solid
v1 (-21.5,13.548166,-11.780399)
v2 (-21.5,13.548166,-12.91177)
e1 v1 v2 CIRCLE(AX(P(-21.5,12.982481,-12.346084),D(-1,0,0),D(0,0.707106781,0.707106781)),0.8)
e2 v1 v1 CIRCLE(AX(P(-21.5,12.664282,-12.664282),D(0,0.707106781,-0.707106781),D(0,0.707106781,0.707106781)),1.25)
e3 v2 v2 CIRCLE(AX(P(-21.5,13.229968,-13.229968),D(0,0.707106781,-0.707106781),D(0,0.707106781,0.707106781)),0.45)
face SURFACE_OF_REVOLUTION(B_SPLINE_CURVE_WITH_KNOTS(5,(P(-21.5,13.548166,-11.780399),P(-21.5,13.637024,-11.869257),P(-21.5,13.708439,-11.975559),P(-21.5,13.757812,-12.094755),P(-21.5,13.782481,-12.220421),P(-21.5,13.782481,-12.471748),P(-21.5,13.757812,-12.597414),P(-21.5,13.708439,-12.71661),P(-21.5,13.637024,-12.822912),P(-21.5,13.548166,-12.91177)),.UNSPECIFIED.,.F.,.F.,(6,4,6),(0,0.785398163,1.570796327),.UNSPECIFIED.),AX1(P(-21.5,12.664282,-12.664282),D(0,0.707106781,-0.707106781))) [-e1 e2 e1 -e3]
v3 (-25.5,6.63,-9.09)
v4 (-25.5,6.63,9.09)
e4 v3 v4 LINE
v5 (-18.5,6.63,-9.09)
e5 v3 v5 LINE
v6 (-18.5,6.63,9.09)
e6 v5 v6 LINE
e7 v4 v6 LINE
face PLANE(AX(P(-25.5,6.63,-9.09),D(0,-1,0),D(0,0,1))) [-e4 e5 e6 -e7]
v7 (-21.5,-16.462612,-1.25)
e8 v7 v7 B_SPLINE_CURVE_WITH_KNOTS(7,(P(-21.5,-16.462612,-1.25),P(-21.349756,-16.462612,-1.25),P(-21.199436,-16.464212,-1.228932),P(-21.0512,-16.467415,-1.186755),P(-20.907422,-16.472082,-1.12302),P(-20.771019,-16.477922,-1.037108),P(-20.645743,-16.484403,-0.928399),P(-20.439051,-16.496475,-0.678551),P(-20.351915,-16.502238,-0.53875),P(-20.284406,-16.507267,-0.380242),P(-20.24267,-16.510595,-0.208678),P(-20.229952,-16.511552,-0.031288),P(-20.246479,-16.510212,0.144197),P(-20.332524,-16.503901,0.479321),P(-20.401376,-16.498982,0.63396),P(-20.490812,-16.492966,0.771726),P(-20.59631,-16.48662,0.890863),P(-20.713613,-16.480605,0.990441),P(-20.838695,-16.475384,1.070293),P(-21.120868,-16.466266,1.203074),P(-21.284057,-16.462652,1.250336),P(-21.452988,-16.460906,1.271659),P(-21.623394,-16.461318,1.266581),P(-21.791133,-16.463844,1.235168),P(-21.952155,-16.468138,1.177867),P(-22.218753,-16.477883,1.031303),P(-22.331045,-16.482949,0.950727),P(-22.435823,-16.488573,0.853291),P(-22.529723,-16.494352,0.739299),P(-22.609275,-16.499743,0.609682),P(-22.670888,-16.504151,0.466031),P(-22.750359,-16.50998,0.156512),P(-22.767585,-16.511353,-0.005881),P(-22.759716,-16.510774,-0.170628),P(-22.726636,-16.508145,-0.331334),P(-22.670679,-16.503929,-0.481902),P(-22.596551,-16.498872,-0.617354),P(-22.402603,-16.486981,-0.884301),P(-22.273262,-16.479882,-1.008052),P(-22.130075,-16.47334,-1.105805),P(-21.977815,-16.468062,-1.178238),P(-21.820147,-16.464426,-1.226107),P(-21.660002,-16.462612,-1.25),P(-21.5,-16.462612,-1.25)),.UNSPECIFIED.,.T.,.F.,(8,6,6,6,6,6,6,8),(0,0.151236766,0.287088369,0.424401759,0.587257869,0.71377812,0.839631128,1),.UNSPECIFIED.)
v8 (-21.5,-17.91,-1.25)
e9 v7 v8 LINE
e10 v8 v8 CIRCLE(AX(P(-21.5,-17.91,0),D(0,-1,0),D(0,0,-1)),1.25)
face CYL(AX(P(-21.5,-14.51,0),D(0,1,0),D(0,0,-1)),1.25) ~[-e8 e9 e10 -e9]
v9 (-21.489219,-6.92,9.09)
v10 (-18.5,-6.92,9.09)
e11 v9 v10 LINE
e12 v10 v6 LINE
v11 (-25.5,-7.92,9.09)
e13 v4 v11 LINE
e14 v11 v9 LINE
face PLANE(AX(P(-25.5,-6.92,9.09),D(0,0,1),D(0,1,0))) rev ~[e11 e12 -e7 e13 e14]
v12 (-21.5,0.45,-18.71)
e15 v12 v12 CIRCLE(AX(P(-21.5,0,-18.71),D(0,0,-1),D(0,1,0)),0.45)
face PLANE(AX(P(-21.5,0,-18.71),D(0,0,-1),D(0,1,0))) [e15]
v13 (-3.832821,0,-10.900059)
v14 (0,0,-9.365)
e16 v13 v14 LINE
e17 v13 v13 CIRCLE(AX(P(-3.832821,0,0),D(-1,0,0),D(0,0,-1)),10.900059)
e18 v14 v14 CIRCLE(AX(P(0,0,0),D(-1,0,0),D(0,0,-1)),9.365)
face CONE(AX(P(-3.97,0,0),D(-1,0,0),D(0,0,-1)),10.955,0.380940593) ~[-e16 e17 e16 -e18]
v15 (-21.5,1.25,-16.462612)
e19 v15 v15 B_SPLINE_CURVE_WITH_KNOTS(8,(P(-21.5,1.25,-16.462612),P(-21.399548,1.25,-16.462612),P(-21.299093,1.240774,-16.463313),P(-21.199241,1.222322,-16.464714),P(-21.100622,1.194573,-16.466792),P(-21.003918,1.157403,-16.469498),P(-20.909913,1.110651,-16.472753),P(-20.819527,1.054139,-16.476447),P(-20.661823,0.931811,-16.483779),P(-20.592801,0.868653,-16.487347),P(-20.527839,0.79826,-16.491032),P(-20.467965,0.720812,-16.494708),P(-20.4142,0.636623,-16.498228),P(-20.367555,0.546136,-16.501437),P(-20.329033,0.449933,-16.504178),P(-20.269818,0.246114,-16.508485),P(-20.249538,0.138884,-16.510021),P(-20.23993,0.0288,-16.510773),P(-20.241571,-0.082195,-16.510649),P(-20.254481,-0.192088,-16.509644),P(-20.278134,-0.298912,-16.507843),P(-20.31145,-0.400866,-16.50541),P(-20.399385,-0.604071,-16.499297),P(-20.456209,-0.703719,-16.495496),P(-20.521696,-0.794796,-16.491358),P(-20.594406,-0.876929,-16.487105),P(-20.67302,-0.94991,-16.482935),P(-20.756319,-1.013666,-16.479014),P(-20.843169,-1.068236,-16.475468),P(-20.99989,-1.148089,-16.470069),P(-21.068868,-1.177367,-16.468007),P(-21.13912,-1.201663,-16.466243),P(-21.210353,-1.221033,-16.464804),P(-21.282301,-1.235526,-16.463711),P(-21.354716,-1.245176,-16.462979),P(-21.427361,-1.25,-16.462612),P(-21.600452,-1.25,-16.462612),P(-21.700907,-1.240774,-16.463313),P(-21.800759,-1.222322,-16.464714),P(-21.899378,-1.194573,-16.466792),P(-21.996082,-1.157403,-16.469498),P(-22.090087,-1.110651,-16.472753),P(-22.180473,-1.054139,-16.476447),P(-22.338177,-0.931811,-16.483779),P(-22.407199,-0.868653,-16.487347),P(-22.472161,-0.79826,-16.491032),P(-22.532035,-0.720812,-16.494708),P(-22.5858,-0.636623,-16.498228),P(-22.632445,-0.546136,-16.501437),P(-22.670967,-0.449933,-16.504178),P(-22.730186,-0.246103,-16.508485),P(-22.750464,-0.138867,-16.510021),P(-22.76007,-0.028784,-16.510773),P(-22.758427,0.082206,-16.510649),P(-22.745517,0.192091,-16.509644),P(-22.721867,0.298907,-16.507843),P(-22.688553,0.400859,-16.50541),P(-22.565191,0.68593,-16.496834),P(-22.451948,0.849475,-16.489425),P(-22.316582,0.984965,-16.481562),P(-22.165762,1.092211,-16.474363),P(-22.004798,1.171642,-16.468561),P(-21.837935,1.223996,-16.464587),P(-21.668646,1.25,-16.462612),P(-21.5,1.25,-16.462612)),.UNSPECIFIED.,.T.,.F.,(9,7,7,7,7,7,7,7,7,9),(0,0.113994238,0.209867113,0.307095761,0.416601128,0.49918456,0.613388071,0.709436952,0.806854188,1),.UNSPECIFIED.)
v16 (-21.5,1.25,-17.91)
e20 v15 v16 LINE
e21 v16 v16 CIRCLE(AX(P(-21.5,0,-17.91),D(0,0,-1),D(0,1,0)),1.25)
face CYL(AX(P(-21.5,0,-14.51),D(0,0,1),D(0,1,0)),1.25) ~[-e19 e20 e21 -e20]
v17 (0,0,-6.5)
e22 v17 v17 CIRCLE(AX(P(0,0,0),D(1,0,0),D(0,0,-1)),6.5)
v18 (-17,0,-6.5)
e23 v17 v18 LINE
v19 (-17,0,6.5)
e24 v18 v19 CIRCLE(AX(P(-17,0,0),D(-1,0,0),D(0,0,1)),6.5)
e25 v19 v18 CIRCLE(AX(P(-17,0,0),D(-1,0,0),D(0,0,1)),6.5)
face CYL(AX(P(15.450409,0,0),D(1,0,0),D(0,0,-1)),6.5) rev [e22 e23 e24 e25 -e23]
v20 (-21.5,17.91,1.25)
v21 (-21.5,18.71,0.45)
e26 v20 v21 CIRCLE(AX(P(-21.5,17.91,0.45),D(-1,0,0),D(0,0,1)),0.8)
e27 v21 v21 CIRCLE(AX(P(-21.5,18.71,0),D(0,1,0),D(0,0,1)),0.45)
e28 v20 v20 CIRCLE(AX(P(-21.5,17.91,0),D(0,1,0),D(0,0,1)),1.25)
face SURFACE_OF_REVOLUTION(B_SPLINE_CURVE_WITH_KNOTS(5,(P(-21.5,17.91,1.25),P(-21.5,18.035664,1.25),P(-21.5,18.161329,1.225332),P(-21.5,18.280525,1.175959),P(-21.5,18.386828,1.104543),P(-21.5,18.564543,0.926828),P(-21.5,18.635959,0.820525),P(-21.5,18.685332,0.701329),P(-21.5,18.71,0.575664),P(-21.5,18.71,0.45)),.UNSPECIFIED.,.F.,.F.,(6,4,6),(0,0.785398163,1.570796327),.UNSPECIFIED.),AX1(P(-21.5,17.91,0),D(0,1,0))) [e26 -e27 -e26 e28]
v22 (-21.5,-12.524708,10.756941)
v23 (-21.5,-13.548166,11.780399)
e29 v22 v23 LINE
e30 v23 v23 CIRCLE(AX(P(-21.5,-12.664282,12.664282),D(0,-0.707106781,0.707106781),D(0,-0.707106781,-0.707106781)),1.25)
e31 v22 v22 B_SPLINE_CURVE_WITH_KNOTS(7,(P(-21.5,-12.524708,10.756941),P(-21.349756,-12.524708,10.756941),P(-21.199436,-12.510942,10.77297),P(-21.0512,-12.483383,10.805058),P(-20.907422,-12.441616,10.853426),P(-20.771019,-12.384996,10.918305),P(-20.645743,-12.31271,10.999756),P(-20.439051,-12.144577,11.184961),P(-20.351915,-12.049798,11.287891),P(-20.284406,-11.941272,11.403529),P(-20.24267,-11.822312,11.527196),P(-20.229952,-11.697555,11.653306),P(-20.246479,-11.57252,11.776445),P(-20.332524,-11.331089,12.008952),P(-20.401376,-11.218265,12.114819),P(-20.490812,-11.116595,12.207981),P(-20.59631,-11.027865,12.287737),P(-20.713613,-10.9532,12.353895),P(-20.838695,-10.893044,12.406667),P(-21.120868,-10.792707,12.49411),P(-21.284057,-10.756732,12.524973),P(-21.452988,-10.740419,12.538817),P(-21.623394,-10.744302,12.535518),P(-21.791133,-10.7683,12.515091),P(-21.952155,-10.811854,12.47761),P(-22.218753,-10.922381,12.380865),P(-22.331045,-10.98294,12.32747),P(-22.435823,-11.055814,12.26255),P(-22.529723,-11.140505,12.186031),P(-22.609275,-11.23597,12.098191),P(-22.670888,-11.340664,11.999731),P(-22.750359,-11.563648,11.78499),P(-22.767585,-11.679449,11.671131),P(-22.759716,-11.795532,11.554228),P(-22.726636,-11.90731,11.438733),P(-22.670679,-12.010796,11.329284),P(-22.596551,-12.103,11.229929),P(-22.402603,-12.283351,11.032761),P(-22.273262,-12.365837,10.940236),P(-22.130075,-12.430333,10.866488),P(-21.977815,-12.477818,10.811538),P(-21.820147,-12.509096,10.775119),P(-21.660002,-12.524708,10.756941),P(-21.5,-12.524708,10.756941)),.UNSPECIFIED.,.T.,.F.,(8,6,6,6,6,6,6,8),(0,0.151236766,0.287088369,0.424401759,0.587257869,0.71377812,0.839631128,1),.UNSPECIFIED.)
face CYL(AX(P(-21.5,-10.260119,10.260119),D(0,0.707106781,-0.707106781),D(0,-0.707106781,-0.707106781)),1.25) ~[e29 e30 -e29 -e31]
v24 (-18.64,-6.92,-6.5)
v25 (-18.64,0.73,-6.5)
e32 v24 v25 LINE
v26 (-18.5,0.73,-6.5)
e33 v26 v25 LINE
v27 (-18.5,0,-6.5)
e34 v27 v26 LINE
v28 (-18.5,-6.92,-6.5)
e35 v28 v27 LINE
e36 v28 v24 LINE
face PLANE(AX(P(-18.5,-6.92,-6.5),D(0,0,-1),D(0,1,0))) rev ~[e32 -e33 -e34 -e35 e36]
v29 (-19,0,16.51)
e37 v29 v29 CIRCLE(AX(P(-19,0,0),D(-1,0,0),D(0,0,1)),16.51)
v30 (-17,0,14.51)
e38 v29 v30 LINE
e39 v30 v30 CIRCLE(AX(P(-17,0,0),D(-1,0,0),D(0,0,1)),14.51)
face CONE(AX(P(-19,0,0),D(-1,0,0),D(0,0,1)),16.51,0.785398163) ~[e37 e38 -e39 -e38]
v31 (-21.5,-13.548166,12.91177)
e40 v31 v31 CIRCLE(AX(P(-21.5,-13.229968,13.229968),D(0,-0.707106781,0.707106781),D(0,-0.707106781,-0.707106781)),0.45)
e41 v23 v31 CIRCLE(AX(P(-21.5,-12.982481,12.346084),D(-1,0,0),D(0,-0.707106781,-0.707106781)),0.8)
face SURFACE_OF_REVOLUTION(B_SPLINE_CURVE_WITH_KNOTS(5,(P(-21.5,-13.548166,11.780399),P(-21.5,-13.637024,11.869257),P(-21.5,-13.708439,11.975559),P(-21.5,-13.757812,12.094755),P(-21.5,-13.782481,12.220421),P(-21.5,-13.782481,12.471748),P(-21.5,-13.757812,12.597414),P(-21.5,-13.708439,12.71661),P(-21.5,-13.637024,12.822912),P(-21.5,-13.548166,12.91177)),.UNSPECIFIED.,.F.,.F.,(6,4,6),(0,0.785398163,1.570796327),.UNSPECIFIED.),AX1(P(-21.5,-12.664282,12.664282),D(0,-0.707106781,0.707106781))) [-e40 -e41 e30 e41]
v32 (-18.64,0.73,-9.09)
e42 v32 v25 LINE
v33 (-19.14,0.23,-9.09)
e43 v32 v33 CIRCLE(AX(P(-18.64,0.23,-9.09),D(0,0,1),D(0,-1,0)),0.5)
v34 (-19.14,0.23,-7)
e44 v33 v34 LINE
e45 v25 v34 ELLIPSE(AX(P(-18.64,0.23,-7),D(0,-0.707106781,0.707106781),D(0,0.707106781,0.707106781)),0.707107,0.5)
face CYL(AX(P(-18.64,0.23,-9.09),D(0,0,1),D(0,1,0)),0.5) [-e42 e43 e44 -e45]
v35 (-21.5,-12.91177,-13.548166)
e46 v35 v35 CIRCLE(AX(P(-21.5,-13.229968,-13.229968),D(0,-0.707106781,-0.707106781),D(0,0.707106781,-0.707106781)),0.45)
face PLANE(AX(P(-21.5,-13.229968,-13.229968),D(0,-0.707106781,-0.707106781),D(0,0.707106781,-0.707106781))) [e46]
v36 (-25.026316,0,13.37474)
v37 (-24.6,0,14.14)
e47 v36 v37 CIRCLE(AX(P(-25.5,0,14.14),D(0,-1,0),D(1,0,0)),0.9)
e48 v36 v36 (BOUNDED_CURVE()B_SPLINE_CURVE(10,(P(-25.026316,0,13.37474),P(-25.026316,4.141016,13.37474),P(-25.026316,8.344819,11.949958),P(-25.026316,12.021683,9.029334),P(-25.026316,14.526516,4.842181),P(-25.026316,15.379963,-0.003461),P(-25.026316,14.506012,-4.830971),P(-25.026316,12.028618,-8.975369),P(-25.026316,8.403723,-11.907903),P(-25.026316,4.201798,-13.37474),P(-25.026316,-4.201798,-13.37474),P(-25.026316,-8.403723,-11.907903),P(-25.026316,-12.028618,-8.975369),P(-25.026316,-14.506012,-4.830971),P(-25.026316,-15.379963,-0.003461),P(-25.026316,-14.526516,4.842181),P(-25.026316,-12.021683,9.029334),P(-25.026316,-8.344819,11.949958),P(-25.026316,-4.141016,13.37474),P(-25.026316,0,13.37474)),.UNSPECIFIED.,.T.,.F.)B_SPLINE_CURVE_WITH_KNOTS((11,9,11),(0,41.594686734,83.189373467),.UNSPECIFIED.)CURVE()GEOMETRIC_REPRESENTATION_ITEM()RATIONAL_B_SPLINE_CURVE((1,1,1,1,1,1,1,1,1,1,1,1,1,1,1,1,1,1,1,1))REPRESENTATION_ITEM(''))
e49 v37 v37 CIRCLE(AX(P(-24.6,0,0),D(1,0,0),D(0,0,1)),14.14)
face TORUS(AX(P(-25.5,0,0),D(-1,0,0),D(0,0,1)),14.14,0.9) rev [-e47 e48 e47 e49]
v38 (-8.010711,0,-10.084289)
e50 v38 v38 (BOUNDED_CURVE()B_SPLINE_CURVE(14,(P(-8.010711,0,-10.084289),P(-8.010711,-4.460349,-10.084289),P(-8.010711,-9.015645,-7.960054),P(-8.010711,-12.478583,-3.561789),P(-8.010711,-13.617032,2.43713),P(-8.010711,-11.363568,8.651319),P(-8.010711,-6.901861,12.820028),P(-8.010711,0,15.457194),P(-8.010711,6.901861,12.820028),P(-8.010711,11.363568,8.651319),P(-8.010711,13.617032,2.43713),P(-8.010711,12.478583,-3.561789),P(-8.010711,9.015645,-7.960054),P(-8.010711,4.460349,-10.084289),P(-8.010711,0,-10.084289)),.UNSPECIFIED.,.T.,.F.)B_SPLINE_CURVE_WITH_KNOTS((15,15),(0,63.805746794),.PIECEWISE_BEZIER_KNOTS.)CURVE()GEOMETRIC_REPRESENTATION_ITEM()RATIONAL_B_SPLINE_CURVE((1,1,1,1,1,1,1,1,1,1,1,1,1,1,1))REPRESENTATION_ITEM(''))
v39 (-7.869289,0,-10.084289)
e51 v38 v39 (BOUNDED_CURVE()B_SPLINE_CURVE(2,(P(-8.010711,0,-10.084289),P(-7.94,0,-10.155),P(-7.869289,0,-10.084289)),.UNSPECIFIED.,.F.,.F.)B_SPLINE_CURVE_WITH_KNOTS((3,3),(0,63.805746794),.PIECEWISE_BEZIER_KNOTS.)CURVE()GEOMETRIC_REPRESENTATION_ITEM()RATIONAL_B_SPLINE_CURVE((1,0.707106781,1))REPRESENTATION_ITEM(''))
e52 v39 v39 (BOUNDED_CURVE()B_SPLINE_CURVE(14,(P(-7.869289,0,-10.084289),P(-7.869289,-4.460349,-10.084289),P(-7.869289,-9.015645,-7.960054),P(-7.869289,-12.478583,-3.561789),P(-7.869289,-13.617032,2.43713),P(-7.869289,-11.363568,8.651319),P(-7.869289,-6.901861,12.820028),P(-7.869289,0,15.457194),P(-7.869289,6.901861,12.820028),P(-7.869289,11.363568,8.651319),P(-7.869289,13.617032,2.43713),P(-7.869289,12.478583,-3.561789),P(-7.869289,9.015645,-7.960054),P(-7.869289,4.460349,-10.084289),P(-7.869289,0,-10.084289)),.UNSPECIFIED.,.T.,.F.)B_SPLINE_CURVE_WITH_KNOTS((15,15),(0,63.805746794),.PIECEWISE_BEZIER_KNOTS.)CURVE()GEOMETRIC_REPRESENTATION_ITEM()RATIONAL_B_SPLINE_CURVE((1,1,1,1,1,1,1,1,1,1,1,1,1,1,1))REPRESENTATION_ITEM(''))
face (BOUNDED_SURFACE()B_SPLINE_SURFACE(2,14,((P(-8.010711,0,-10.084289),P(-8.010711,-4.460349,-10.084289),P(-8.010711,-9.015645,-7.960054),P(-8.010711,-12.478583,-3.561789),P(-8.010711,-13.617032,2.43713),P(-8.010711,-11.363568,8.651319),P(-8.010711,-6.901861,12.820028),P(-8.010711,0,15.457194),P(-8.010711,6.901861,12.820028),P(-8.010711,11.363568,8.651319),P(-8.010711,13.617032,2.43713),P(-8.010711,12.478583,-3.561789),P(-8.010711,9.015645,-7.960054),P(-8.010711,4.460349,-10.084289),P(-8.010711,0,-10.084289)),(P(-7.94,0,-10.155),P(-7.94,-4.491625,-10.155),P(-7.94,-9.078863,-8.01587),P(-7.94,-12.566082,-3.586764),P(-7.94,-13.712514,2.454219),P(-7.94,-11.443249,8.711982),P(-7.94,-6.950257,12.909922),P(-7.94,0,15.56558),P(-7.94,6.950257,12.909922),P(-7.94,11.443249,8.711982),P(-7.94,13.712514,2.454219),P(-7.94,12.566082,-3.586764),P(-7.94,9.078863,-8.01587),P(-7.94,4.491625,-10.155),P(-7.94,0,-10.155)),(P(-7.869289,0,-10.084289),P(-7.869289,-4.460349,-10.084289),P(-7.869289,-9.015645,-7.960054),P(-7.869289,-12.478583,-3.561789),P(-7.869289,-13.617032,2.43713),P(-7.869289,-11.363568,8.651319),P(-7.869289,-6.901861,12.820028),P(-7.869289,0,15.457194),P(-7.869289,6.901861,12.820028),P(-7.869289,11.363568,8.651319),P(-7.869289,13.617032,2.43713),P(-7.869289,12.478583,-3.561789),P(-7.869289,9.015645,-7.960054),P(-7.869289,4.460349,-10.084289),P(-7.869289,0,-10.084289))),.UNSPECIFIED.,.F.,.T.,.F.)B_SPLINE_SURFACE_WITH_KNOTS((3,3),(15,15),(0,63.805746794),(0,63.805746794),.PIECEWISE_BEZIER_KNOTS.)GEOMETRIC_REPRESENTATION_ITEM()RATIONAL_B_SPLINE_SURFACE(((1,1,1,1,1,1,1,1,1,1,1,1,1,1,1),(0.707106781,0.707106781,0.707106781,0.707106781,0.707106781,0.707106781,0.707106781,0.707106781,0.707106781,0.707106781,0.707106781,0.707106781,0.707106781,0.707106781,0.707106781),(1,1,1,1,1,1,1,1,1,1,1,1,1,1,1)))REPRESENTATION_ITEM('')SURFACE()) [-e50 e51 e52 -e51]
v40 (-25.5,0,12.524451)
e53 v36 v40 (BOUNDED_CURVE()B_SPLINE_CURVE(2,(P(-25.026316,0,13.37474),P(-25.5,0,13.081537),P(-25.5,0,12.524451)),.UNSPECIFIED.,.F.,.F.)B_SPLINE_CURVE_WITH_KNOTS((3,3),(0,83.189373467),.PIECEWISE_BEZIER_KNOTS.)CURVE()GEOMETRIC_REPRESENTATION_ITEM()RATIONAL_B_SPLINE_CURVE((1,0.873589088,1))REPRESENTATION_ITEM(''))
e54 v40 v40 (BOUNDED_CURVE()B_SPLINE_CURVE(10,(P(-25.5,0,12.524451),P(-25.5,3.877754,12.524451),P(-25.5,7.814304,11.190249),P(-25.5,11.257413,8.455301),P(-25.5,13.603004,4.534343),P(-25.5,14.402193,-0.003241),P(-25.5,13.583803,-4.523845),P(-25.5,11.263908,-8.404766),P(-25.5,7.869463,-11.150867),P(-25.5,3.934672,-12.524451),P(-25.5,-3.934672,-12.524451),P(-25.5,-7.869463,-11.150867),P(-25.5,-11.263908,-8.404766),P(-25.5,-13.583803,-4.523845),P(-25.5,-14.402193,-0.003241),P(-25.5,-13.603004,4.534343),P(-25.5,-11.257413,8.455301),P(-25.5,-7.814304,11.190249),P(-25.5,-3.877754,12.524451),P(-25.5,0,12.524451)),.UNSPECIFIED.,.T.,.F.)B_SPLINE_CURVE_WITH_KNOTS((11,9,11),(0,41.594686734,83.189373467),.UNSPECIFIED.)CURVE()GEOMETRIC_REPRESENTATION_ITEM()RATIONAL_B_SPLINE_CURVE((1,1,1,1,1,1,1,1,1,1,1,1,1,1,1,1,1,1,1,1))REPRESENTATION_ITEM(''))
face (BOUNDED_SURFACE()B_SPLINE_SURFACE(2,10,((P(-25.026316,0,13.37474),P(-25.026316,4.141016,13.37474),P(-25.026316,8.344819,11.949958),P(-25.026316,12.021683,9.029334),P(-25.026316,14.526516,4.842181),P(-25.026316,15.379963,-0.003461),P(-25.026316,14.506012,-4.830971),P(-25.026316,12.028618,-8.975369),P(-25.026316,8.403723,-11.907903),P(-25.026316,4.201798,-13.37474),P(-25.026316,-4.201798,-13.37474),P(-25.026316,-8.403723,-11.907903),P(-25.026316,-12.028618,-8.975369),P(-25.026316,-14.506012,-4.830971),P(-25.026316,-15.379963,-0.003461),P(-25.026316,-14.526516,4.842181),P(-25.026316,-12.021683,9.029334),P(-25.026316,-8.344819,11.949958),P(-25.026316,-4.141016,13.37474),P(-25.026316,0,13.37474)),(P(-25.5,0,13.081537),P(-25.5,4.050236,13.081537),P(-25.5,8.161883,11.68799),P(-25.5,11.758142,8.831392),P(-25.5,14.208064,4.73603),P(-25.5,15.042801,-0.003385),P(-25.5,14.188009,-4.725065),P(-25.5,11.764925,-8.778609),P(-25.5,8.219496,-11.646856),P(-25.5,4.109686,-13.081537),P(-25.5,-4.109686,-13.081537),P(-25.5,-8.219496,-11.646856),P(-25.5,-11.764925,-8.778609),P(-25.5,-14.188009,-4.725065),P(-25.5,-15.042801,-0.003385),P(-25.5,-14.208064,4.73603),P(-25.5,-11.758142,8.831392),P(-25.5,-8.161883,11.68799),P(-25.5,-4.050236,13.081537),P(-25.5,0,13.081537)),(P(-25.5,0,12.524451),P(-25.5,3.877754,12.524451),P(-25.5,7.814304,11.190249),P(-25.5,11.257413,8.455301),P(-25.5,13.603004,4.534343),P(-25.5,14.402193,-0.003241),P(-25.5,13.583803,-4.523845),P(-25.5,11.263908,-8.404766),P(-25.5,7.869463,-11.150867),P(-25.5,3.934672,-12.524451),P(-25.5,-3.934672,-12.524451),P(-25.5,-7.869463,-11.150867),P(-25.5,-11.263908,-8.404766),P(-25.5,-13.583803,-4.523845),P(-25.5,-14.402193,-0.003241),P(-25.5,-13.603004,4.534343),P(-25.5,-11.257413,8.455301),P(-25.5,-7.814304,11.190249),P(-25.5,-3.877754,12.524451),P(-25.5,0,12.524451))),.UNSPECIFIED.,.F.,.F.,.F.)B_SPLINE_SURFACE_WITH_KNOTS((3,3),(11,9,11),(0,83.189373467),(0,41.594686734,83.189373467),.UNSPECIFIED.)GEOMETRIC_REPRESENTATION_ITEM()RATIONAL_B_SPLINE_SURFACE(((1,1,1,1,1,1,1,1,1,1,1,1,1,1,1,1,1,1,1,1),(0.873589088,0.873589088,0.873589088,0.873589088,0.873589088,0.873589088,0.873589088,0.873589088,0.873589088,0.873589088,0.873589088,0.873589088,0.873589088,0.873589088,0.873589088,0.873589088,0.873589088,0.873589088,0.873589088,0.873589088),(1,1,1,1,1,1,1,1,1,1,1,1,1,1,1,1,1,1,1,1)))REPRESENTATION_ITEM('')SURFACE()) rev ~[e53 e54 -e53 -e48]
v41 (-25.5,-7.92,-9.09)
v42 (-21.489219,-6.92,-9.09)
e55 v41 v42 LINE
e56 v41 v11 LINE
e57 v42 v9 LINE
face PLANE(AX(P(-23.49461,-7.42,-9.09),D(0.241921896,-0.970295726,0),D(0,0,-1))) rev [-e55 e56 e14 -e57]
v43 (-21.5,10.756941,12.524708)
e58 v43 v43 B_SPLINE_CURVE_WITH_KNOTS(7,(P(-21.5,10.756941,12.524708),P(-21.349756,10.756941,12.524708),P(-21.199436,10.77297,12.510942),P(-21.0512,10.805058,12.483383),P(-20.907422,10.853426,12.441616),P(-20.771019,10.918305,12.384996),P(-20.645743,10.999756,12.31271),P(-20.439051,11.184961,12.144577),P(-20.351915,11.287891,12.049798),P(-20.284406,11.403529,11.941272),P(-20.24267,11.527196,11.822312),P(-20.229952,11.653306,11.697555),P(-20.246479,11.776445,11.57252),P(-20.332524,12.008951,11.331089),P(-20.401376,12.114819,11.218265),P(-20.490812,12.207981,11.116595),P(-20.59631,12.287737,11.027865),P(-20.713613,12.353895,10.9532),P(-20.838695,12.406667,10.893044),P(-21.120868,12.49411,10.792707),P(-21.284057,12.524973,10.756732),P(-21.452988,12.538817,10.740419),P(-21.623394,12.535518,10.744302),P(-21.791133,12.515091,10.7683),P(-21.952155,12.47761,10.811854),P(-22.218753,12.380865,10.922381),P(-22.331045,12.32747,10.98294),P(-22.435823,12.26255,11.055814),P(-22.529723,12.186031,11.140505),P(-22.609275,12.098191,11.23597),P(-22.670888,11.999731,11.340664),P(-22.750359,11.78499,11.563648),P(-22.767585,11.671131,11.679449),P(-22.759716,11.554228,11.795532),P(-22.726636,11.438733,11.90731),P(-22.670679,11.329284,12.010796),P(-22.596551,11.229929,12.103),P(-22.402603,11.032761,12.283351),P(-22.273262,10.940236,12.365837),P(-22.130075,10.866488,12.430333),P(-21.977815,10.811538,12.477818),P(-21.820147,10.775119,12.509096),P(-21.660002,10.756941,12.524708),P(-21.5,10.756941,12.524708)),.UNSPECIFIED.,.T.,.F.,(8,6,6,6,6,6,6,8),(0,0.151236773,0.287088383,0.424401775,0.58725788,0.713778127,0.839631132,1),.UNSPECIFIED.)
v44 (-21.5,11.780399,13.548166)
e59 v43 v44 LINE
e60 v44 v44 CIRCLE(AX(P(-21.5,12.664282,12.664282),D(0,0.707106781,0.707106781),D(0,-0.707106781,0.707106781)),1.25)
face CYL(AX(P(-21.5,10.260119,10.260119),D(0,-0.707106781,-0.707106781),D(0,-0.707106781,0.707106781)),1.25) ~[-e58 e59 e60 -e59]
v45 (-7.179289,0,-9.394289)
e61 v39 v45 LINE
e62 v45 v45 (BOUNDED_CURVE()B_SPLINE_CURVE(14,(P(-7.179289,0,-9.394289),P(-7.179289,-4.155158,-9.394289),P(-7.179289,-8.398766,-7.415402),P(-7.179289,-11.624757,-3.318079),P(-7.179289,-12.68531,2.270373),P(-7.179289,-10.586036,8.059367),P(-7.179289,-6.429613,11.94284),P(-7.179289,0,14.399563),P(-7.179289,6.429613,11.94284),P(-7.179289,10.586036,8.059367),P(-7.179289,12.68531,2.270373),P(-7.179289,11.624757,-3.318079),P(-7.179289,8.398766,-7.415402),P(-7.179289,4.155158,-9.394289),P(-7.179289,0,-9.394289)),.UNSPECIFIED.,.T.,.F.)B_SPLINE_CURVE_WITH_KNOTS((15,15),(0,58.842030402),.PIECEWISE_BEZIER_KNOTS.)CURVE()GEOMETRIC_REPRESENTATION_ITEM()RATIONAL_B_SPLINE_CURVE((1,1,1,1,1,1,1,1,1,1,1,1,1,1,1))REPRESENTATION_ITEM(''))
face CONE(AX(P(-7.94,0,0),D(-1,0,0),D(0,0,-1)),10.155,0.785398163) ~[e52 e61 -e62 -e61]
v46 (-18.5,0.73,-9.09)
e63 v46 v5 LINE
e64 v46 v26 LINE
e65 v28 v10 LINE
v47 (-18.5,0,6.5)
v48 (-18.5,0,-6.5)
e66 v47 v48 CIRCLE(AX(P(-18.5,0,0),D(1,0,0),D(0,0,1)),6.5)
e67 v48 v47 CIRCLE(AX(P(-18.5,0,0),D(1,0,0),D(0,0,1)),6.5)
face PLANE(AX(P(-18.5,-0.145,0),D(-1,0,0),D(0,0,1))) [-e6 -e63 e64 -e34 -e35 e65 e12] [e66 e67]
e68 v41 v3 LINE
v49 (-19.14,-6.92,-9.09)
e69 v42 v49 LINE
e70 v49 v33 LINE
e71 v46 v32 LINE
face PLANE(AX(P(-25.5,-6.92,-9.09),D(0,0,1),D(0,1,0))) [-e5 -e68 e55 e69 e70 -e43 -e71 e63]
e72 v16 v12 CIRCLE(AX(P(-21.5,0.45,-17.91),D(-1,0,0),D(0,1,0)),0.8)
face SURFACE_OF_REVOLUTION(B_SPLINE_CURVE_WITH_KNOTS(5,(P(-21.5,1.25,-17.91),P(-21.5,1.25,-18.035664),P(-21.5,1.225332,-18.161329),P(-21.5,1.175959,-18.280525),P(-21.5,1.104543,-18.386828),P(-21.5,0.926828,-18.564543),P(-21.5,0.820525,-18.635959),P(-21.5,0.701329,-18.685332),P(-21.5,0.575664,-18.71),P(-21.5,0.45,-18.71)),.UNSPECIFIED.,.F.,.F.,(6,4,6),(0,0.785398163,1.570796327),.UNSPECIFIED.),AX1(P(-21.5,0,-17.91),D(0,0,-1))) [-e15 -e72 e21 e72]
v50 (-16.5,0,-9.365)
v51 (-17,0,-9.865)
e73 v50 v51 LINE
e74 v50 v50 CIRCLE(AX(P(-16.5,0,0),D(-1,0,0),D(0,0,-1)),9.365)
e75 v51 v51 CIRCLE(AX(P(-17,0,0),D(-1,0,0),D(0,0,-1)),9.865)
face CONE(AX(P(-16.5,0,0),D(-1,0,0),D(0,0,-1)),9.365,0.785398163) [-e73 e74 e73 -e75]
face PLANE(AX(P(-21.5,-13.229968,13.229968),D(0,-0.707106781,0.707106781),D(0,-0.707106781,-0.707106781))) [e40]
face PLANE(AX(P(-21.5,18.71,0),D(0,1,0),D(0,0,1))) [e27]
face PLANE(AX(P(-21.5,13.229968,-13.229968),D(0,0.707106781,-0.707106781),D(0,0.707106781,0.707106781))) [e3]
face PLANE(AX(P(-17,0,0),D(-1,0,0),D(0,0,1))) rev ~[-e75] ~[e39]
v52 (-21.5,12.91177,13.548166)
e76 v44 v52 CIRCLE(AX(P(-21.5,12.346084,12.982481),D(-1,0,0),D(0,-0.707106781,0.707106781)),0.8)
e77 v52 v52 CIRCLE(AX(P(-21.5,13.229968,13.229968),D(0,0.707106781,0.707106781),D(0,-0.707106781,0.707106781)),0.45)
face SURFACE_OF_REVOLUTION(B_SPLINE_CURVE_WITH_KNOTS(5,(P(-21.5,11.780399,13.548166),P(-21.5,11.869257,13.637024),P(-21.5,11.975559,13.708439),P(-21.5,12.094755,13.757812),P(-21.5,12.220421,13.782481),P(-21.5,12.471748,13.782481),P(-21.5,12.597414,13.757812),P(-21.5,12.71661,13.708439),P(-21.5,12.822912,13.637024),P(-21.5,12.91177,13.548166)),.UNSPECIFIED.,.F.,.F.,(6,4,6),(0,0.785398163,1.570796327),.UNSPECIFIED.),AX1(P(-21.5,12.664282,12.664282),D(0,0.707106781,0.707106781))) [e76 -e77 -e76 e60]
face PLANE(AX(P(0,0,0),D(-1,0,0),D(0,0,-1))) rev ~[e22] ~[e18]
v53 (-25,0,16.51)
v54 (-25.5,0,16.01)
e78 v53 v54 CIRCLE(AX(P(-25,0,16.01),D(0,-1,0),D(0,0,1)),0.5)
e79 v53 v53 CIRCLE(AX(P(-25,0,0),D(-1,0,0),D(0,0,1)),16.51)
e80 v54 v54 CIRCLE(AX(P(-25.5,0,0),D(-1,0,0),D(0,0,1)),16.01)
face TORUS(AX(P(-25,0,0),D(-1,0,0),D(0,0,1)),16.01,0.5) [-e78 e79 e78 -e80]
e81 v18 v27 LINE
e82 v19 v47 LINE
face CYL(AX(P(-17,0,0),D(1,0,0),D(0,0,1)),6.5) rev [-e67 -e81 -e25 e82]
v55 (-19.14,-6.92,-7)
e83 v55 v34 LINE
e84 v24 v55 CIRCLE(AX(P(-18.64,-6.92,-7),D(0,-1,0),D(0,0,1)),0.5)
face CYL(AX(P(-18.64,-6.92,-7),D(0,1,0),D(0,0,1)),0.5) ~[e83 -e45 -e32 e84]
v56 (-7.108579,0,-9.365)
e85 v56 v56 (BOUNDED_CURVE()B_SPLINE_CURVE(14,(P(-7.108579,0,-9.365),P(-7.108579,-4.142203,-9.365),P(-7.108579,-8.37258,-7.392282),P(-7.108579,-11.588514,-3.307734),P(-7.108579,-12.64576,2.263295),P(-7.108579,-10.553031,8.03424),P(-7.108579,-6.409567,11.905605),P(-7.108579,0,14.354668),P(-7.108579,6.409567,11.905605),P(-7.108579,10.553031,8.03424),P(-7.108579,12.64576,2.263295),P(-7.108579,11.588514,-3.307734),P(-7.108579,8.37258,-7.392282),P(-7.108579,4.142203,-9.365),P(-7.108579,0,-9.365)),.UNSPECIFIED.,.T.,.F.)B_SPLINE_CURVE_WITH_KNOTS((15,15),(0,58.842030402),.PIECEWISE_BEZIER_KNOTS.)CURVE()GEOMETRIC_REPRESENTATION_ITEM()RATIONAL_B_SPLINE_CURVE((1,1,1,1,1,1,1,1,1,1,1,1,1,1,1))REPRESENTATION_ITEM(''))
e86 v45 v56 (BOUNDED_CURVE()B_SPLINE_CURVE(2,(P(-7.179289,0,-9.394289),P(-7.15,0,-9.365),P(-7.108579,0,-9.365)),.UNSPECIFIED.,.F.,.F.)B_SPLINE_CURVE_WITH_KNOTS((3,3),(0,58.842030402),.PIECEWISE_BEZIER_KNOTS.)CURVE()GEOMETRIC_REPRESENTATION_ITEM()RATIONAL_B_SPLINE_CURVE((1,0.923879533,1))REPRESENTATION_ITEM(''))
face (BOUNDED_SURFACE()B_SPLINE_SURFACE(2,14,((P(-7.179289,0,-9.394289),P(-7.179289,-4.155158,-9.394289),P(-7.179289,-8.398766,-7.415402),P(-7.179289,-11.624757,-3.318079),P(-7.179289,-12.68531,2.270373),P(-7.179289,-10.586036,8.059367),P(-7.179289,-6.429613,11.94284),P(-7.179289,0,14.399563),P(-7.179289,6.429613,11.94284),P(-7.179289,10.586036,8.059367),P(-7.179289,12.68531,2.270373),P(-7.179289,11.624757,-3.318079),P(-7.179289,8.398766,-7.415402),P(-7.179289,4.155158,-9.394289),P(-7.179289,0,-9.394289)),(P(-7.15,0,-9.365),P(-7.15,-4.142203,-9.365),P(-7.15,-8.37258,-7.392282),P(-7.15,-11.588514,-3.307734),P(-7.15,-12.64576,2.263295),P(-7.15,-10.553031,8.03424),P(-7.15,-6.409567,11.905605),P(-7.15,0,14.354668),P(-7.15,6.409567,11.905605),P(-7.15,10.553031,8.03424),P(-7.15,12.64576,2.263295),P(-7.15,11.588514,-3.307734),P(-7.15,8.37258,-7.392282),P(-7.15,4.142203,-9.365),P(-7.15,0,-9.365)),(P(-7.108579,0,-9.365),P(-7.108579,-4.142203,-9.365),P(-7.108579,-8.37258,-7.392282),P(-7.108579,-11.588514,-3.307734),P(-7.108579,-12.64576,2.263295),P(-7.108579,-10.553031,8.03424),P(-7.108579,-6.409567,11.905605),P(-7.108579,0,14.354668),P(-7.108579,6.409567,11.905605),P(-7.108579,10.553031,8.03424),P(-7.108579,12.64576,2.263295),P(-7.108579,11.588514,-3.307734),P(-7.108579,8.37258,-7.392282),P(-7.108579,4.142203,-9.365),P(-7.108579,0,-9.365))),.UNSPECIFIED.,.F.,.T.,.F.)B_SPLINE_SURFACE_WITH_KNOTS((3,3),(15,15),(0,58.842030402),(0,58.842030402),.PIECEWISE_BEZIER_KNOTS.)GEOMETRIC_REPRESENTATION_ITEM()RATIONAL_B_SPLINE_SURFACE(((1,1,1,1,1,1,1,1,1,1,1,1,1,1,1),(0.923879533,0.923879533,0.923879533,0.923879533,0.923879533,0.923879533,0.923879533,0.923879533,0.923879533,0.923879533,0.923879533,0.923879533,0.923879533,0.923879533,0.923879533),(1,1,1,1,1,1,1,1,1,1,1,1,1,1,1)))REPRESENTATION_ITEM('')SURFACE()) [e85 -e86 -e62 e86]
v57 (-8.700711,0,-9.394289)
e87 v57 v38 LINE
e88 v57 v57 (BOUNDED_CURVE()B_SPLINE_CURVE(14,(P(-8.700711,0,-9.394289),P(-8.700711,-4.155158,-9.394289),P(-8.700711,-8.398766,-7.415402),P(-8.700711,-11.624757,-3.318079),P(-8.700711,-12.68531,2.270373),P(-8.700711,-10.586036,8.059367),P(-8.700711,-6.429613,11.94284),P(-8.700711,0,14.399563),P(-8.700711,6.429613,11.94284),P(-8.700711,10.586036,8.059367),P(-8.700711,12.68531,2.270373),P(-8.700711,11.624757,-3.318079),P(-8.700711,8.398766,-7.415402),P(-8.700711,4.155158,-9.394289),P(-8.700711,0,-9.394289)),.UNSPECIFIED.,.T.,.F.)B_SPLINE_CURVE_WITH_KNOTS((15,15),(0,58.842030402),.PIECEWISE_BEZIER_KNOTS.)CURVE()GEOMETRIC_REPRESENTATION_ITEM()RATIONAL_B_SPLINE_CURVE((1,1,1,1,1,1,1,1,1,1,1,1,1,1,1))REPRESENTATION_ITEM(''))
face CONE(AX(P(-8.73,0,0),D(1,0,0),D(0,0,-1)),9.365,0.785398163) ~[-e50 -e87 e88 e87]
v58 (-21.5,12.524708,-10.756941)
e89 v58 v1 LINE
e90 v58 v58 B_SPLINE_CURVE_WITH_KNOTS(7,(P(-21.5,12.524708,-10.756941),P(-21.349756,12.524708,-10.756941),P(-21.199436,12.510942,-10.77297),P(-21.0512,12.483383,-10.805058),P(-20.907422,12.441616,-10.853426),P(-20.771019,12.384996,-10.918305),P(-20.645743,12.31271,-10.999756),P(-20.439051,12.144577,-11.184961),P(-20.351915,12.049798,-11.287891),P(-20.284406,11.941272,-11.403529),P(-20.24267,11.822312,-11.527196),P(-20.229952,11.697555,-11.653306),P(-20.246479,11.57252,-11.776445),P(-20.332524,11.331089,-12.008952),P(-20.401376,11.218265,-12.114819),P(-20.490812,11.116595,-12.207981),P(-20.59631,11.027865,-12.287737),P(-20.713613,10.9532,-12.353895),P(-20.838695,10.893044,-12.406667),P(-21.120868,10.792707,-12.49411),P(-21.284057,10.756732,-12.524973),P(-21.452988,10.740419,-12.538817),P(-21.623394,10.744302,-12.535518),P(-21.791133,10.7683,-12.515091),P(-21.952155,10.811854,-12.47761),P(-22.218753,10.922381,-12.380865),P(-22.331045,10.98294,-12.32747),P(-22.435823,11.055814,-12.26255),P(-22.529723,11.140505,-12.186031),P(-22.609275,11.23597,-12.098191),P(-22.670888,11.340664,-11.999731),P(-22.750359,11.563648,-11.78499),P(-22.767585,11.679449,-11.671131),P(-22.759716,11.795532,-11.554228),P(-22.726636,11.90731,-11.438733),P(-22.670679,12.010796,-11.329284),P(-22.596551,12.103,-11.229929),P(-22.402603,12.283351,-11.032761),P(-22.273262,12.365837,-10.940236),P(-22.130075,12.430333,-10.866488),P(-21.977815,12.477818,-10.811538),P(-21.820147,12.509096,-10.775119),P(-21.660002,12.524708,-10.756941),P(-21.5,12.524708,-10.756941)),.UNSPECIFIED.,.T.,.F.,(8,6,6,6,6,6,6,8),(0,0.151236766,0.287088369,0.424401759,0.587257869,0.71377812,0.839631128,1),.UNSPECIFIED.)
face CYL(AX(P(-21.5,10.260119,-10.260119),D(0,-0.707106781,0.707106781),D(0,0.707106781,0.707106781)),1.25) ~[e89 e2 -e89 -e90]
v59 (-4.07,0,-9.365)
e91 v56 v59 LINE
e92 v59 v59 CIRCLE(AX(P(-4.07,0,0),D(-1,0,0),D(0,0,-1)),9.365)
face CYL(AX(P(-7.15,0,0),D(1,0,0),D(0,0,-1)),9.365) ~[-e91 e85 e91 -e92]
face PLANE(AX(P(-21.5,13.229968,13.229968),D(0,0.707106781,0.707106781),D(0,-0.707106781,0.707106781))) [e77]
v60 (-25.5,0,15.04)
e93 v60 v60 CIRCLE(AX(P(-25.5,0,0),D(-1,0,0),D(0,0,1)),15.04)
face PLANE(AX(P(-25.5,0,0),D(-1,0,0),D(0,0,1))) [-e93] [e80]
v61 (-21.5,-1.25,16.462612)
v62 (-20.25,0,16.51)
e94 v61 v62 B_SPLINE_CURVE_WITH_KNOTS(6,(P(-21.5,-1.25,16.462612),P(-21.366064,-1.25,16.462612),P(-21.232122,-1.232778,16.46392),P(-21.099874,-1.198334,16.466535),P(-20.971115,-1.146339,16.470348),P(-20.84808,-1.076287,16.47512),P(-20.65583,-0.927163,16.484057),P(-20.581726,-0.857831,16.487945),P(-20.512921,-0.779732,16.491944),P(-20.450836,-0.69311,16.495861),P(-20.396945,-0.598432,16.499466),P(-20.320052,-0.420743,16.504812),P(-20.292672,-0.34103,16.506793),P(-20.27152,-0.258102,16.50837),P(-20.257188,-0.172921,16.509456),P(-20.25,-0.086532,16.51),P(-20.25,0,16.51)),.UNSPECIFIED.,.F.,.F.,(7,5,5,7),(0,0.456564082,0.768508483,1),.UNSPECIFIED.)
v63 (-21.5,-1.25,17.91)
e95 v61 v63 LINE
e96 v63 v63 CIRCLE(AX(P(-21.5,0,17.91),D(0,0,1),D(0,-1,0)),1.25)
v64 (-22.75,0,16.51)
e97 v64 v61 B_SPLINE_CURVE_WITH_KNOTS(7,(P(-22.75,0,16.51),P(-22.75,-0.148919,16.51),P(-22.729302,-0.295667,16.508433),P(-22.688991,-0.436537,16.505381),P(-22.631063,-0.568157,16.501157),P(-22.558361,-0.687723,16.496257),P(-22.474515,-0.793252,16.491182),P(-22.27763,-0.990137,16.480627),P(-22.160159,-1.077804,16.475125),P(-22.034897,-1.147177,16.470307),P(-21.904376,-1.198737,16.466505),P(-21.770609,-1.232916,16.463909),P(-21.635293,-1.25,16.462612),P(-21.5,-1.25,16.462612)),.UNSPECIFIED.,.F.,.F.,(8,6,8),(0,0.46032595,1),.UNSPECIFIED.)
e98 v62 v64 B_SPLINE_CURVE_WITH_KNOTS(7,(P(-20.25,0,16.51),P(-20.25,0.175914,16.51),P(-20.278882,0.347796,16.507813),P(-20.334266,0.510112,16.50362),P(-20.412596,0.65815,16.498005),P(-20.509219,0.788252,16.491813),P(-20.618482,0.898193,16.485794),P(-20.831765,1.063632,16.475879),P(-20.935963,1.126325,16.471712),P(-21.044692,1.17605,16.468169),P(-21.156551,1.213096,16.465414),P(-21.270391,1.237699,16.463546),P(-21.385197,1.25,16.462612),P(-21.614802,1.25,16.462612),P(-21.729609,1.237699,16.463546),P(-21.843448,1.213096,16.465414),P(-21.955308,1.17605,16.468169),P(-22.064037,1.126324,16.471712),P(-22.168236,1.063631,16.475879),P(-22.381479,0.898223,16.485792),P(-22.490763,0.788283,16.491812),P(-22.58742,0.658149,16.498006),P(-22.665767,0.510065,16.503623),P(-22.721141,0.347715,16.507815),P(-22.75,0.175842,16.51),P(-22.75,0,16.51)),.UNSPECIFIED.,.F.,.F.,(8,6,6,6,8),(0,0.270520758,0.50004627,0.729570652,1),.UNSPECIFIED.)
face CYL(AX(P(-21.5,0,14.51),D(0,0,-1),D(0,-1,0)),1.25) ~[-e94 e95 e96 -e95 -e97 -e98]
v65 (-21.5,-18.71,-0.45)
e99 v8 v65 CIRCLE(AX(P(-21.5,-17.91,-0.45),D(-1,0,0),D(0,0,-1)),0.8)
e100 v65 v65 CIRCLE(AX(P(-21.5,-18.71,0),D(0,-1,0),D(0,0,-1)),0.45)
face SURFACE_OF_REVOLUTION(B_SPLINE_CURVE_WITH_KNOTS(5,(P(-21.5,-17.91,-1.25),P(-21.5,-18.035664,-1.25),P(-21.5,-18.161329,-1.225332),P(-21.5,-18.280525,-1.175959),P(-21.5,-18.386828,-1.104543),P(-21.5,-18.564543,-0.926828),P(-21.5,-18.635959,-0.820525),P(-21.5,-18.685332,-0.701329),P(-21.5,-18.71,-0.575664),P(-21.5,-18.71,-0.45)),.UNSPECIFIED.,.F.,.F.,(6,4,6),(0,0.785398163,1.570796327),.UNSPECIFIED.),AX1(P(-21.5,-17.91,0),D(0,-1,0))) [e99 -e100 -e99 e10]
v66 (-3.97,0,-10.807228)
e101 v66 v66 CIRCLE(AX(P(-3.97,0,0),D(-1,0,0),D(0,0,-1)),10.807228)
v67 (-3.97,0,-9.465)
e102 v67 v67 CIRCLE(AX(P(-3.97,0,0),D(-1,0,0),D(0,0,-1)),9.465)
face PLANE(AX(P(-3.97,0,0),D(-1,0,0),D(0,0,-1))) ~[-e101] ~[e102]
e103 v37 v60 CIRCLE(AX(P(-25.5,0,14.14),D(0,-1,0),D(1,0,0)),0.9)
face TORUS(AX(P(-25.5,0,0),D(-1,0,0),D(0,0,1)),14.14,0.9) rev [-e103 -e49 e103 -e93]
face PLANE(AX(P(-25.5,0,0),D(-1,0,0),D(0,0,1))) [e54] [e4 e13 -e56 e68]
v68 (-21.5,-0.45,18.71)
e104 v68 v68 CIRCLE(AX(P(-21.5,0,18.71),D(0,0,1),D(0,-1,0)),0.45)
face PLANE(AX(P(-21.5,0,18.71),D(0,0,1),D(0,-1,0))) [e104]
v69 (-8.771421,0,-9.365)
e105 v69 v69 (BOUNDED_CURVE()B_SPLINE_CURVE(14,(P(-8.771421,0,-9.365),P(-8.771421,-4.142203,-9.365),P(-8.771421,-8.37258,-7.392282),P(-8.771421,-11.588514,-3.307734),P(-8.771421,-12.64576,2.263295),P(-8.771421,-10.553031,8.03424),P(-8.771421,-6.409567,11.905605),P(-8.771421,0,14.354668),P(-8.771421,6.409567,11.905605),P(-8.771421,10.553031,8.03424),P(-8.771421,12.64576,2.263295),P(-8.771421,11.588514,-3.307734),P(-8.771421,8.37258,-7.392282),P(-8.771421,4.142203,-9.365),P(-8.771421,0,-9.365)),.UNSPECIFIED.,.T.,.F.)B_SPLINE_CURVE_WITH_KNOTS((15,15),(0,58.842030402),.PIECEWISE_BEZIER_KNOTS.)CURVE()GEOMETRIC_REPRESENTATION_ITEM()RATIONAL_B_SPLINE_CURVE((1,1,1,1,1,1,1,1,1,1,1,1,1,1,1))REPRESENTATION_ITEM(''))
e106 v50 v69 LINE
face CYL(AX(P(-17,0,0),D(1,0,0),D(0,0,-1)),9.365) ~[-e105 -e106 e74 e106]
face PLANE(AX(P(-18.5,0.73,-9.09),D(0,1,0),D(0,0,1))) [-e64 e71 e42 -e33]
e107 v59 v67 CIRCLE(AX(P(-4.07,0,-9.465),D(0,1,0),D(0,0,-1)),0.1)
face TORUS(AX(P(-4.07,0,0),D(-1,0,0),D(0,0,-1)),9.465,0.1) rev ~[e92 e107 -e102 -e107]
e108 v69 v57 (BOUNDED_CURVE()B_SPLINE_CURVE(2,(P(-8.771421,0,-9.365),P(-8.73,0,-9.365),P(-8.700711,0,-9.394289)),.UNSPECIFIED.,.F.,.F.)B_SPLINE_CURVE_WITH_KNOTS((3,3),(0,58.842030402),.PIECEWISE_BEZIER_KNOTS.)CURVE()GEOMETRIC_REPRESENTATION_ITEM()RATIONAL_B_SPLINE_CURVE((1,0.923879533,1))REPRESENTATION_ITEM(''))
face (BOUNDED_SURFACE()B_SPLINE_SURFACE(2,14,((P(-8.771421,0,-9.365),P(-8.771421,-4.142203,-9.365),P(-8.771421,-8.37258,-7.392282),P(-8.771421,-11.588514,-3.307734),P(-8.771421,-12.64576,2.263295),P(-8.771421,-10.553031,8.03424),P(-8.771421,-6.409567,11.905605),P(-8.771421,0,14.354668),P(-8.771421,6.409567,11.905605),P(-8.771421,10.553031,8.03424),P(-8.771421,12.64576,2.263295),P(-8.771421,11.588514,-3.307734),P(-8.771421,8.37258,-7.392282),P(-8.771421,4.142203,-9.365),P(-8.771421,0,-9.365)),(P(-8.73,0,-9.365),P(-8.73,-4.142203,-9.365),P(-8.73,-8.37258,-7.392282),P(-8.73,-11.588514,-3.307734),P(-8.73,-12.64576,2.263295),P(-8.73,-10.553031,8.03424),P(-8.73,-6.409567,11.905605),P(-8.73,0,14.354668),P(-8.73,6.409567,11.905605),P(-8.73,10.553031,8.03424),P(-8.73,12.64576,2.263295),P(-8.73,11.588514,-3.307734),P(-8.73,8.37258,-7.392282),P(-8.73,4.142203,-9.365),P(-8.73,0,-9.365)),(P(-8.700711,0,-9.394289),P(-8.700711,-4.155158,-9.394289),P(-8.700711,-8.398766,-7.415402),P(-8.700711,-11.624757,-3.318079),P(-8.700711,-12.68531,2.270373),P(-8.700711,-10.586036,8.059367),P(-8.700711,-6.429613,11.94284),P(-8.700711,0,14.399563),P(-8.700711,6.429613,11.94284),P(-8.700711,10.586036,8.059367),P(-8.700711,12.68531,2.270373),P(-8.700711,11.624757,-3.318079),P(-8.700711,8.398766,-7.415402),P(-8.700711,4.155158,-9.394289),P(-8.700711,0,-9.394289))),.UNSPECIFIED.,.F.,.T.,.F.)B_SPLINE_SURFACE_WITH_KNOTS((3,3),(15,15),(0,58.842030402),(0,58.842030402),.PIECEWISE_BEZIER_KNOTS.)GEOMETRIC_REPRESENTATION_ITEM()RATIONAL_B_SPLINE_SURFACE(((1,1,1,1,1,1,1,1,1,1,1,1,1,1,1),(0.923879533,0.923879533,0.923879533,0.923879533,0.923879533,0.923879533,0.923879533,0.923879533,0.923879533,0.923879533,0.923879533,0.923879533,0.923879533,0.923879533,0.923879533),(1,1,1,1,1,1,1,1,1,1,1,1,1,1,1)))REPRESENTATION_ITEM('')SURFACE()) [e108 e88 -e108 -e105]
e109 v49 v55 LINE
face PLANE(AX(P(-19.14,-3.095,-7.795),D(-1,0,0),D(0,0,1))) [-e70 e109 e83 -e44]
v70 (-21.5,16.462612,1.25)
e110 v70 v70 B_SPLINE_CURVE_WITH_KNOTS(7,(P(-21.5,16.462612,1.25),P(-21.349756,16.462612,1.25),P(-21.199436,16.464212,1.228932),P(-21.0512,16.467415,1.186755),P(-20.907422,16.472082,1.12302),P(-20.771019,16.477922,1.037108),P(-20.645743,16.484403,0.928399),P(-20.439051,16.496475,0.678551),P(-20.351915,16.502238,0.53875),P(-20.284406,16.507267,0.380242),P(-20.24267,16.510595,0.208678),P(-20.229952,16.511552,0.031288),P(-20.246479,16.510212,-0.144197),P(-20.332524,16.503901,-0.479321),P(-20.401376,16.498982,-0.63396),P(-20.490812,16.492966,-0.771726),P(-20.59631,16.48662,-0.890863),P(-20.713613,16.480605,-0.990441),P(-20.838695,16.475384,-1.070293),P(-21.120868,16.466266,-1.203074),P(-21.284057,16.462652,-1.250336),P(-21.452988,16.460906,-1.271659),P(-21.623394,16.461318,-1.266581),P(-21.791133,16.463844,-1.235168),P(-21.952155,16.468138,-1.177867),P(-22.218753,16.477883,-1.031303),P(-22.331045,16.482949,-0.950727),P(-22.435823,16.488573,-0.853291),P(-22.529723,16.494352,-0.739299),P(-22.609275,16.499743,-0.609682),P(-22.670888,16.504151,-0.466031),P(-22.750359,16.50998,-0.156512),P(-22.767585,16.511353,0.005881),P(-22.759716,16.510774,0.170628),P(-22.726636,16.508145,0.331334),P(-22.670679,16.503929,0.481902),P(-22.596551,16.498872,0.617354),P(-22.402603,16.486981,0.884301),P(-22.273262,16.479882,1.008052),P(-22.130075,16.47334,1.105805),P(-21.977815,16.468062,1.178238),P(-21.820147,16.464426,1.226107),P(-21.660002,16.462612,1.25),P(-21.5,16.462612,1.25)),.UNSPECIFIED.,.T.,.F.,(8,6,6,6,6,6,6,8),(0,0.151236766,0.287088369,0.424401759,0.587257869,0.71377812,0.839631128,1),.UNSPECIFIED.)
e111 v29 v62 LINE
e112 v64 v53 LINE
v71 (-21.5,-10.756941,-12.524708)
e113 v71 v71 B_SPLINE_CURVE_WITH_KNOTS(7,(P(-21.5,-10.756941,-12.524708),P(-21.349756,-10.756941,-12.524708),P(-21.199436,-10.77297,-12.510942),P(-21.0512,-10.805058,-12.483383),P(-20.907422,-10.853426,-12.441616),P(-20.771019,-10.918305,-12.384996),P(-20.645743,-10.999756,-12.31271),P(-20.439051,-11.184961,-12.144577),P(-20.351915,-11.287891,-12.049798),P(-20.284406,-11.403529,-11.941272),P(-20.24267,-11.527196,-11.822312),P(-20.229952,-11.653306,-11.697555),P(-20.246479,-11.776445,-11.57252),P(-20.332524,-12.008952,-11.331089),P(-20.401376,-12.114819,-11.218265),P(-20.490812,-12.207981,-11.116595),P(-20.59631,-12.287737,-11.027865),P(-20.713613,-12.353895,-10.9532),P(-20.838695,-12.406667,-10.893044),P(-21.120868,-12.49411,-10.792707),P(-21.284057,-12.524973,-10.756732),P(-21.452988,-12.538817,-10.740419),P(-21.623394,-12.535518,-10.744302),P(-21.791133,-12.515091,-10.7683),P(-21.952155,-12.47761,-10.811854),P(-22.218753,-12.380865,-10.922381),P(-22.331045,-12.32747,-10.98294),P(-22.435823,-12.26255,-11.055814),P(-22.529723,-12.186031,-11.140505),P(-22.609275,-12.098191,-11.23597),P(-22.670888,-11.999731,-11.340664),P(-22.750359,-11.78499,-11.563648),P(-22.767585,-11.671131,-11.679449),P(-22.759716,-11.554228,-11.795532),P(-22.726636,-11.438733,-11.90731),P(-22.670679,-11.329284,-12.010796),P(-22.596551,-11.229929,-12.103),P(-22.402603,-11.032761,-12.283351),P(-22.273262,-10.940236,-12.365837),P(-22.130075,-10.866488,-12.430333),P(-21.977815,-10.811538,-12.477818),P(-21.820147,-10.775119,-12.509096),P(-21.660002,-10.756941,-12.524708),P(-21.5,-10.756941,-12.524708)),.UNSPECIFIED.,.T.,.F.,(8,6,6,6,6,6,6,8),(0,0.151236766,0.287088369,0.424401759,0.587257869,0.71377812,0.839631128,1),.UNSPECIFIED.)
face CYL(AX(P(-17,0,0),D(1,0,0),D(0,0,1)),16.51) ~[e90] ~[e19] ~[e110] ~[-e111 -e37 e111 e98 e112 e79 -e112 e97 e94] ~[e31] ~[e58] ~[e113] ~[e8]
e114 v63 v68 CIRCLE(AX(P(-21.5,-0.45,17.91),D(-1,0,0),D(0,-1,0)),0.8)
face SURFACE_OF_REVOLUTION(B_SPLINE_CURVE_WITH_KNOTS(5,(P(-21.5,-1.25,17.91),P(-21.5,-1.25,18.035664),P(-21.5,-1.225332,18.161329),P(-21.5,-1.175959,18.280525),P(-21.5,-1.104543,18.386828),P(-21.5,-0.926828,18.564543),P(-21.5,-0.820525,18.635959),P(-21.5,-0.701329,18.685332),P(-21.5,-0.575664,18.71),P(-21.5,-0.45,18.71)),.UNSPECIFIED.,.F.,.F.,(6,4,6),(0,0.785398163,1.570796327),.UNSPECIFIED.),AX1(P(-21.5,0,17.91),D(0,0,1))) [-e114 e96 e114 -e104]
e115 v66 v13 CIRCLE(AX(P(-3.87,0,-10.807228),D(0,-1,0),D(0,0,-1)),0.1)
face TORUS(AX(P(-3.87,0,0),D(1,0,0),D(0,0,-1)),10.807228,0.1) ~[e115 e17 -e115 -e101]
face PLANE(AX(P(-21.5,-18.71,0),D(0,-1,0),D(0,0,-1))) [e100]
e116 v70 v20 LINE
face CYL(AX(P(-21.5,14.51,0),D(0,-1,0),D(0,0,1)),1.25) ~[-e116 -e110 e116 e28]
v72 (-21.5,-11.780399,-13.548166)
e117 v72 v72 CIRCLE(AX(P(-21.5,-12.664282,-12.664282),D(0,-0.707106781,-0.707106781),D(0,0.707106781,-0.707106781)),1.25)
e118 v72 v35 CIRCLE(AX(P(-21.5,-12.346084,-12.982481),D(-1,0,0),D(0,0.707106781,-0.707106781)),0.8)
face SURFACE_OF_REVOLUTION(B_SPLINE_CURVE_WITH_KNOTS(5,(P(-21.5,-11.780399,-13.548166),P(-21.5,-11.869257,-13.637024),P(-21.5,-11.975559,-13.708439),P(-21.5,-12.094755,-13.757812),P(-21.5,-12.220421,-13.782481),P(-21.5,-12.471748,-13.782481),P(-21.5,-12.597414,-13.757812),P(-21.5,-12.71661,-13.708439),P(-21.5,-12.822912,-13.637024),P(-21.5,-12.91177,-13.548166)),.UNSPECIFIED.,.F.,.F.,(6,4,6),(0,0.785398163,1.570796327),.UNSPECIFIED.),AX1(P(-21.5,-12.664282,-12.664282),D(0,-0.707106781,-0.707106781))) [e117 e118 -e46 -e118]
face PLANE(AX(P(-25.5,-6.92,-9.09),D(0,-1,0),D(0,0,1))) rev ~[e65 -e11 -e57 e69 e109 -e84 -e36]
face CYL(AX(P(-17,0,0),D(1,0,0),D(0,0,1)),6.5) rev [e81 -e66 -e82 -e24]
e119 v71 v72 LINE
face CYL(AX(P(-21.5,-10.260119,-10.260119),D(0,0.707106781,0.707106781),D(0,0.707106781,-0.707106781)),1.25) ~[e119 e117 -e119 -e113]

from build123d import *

# Parameters (mm, degrees)
SKETCH2_R                = 16.51
SKETCH2_R_2              = 9.365
SKETCH2_R_3              = 6.5
BOSS_EXTRUDE1_DEPTH      = 8.5
SKETCH4_W                = 18.18
SKETCH4_H                = 13.55
CUT_EXTRUDE1_DEPTH       = 7
SKETCH6_R                = 0.9
FILLET1_R                = 1
BOSS_EXTRUDE2_START      = -2
SKETCH7_R                = 1.25
BOSS_EXTRUDE2_DEPTH      = 4.2
FILLET2_R                = 0.8
CIRPATTERN1_COUNT        = 8
FILLET2_OF_CIRPATTERN1_R = 0.8
CHAMFER1_SIZE            = 2
FILLET3_R                = 0.5
FILLET4_R                = 0.1
CHAMFER2_SIZE            = 0.5
CUT_EXTRUDE2_DEPTH       = 32.450408582
CUT_EXTRUDE2_DEPTH_BACK  = 32.450408582
SKETCH2_3_R              = 6.5
CHAMFER3_SIZE            = 1
CHAMFER3_SIZE2           = 4.010780934
SKETCH8_W                = 2.59
SKETCH8_H                = 7.65
BOSS_EXTRUDE3_DEPTH      = 0.64
FILLET5_R                = 0.5


with BuildPart() as part:
    # Sketch1 → Revolve1 (revolve)
    with BuildSketch(Plane(origin=(0, 0, 0), x_dir=(1, 0, 0), z_dir=(0, 1, 0))):
        Polygon((0, 0), (-17, 0), (-17, 9.365), (-8.73, 9.365), (-7.94, 10.155), (-7.15, 9.365), (-3.97, 9.365), (-3.97, 10.955), (0, 9.365), align=None)
    revolve(axis=Axis((0, 0, 0), (-1, 0, 0)))

    # Sketch2 → Boss-Extrude1 (add)
    # profile 1 of 2: a face of its own
    with BuildSketch(Plane.ZY.offset(17)):
        Circle(SKETCH2_R)
        with Locations(Location((0, 0, 0), (0, 0, 180))):
            Circle(SKETCH2_R_2, mode=Mode.SUBTRACT)
    # profile 2 of 2: a face of its own
    with BuildSketch(Plane.ZY.offset(17)):
        with Locations(Location((0, 0, 0), (0, 0, 180))):
            Circle(SKETCH2_R_2)
        Circle(SKETCH2_R_3, mode=Mode.SUBTRACT)
    extrude(amount=BOSS_EXTRUDE1_DEPTH)

    # Sketch4 → Cut-Extrude1 (cut)
    with BuildSketch(Plane.ZY.offset(25.5)):
        with Locations((0, -0.145)):
            Rectangle(SKETCH4_W, SKETCH4_H)
    extrude(amount=-CUT_EXTRUDE1_DEPTH, mode=Mode.SUBTRACT)

    # Sketch6 → Cut-Revolve1 (revolve, cut)
    with BuildSketch(Plane.XY, mode=Mode.PRIVATE) as cut_revolve1_sk:
        with Locations((-25.5, 14.14)):
            Circle(SKETCH6_R)
    revolve(cut_revolve1_sk.sketch.rotate(Axis((-35.027065124, 0, 0), (1, 0, 0)), 90), axis=Axis((-35.027065124, 0, 0), (1, 0, 0)), mode=Mode.SUBTRACT)

    # Fillet1
    fillet1_edges = [part.edges().sort_by_distance(p)[0] for p in [
        (-25.5, 0, -13.24),
    ]]
    fillet(fillet1_edges, radius=FILLET1_R)

    # Sketch7 → Boss-Extrude2 (add)
    with BuildSketch(Plane(origin=(0, 16.51, 0), x_dir=(1, 0, 0), z_dir=(0, 1, 0)).offset(BOSS_EXTRUDE2_START)):
        with Locations(Location((-21.5, 0, 0), (0, 0, 270))):
            Circle(SKETCH7_R)
    boss_extrude2 = extrude(amount=BOSS_EXTRUDE2_DEPTH)

    # Fillet2
    fillet2_edges = [part.edges().sort_by_distance(p)[0] for p in [
        (-21.5, 18.71, -1.25),
    ]]
    fillet(fillet2_edges, radius=FILLET2_R)

    # CirPattern1: Boss-Extrude2 ×8 about axis
    cirpattern1_axis = Axis((0, 0, 0), (1, 0, 0))
    for i in range(1, CIRPATTERN1_COUNT):
        add(boss_extrude2.rotate(cirpattern1_axis, i * 360 / CIRPATTERN1_COUNT))

    # Fillet2 of CirPattern1
    fillet2_of_cirpattern1_edges = [part.edges().sort_by_distance(p)[0] for p in [
        (-21.5, 14.113851352, 12.3460844),
        (-21.5, 1.25, 18.71),
        (-21.5, -12.3460844, 14.113851352),
        (-21.5, -18.71, 1.25),
        (-21.5, -14.113851352, -12.3460844),
        (-21.5, -1.25, -18.71),
        (-21.5, 12.3460844, -14.113851352),
    ]]
    fillet(fillet2_of_cirpattern1_edges, radius=FILLET2_OF_CIRPATTERN1_R)

    # Chamfer1
    chamfer1_edges = [part.edges().sort_by_distance(p)[0] for p in [
        (-17, 0, -16.51),
    ]]
    chamfer(chamfer1_edges, length=CHAMFER1_SIZE)

    # Fillet3
    fillet3_edges = [part.edges().sort_by_distance(p)[0] for p in [
        (-25.5, 0, -16.51),
    ]]
    fillet(fillet3_edges, radius=FILLET3_R)

    # Fillet4
    fillet4_edges = [part.edges().sort_by_distance(p)[0] for p in [
        (-3.97, 0, 9.365),
        (-3.97, 0, 10.955),
        (-8.73, 0, 9.365),
        (-7.94, 0, 10.155),
        (-7.15, 0, 9.365),
    ]]
    fillet(fillet4_edges, radius=FILLET4_R)

    # Chamfer2
    chamfer2_edges = [part.edges().sort_by_distance(p)[0] for p in [
        (-17, 0, 9.365),
    ]]
    chamfer(chamfer2_edges, length=CHAMFER2_SIZE)

    # Sketch2<3> → Cut-Extrude2 (cut, two sides: drawn at the far end of the back side and taken through both)
    with BuildSketch(Plane.ZY.offset(17).offset(-CUT_EXTRUDE2_DEPTH_BACK)):
        with Locations(Location((0, 0, 0), (0, 0, 180))):
            Circle(SKETCH2_3_R)
    extrude(amount=CUT_EXTRUDE2_DEPTH + CUT_EXTRUDE2_DEPTH_BACK, mode=Mode.SUBTRACT)

    # Chamfer3
    chamfer3_edges = [part.edges().sort_by_distance(p)[0] for p in [
        (-25.5, -6.92, 0),
    ]]
    chamfer3_side = [part.faces().sort_by_distance(p)[0] for p in [
        (-25.5, 0, -12.170205593),
    ]]
    chamfer(chamfer3_edges, length=CHAMFER3_SIZE, length2=CHAMFER3_SIZE2, reference=chamfer3_side[0])

    # Sketch8 → Boss-Extrude3 (add)
    with BuildSketch(Plane.ZY.offset(18.5)):
        with Locations((-7.795, -3.095)):
            Rectangle(SKETCH8_W, SKETCH8_H)
    extrude(amount=BOSS_EXTRUDE3_DEPTH)

    # Fillet5
    fillet5_edges = [part.edges().sort_by_distance(p)[0] for p in [
        (-19.14, -3.095, -6.5),
        (-19.14, 0.73, -7.795),
    ]]
    fillet(fillet5_edges, radius=FILLET5_R)


solid = part.part
